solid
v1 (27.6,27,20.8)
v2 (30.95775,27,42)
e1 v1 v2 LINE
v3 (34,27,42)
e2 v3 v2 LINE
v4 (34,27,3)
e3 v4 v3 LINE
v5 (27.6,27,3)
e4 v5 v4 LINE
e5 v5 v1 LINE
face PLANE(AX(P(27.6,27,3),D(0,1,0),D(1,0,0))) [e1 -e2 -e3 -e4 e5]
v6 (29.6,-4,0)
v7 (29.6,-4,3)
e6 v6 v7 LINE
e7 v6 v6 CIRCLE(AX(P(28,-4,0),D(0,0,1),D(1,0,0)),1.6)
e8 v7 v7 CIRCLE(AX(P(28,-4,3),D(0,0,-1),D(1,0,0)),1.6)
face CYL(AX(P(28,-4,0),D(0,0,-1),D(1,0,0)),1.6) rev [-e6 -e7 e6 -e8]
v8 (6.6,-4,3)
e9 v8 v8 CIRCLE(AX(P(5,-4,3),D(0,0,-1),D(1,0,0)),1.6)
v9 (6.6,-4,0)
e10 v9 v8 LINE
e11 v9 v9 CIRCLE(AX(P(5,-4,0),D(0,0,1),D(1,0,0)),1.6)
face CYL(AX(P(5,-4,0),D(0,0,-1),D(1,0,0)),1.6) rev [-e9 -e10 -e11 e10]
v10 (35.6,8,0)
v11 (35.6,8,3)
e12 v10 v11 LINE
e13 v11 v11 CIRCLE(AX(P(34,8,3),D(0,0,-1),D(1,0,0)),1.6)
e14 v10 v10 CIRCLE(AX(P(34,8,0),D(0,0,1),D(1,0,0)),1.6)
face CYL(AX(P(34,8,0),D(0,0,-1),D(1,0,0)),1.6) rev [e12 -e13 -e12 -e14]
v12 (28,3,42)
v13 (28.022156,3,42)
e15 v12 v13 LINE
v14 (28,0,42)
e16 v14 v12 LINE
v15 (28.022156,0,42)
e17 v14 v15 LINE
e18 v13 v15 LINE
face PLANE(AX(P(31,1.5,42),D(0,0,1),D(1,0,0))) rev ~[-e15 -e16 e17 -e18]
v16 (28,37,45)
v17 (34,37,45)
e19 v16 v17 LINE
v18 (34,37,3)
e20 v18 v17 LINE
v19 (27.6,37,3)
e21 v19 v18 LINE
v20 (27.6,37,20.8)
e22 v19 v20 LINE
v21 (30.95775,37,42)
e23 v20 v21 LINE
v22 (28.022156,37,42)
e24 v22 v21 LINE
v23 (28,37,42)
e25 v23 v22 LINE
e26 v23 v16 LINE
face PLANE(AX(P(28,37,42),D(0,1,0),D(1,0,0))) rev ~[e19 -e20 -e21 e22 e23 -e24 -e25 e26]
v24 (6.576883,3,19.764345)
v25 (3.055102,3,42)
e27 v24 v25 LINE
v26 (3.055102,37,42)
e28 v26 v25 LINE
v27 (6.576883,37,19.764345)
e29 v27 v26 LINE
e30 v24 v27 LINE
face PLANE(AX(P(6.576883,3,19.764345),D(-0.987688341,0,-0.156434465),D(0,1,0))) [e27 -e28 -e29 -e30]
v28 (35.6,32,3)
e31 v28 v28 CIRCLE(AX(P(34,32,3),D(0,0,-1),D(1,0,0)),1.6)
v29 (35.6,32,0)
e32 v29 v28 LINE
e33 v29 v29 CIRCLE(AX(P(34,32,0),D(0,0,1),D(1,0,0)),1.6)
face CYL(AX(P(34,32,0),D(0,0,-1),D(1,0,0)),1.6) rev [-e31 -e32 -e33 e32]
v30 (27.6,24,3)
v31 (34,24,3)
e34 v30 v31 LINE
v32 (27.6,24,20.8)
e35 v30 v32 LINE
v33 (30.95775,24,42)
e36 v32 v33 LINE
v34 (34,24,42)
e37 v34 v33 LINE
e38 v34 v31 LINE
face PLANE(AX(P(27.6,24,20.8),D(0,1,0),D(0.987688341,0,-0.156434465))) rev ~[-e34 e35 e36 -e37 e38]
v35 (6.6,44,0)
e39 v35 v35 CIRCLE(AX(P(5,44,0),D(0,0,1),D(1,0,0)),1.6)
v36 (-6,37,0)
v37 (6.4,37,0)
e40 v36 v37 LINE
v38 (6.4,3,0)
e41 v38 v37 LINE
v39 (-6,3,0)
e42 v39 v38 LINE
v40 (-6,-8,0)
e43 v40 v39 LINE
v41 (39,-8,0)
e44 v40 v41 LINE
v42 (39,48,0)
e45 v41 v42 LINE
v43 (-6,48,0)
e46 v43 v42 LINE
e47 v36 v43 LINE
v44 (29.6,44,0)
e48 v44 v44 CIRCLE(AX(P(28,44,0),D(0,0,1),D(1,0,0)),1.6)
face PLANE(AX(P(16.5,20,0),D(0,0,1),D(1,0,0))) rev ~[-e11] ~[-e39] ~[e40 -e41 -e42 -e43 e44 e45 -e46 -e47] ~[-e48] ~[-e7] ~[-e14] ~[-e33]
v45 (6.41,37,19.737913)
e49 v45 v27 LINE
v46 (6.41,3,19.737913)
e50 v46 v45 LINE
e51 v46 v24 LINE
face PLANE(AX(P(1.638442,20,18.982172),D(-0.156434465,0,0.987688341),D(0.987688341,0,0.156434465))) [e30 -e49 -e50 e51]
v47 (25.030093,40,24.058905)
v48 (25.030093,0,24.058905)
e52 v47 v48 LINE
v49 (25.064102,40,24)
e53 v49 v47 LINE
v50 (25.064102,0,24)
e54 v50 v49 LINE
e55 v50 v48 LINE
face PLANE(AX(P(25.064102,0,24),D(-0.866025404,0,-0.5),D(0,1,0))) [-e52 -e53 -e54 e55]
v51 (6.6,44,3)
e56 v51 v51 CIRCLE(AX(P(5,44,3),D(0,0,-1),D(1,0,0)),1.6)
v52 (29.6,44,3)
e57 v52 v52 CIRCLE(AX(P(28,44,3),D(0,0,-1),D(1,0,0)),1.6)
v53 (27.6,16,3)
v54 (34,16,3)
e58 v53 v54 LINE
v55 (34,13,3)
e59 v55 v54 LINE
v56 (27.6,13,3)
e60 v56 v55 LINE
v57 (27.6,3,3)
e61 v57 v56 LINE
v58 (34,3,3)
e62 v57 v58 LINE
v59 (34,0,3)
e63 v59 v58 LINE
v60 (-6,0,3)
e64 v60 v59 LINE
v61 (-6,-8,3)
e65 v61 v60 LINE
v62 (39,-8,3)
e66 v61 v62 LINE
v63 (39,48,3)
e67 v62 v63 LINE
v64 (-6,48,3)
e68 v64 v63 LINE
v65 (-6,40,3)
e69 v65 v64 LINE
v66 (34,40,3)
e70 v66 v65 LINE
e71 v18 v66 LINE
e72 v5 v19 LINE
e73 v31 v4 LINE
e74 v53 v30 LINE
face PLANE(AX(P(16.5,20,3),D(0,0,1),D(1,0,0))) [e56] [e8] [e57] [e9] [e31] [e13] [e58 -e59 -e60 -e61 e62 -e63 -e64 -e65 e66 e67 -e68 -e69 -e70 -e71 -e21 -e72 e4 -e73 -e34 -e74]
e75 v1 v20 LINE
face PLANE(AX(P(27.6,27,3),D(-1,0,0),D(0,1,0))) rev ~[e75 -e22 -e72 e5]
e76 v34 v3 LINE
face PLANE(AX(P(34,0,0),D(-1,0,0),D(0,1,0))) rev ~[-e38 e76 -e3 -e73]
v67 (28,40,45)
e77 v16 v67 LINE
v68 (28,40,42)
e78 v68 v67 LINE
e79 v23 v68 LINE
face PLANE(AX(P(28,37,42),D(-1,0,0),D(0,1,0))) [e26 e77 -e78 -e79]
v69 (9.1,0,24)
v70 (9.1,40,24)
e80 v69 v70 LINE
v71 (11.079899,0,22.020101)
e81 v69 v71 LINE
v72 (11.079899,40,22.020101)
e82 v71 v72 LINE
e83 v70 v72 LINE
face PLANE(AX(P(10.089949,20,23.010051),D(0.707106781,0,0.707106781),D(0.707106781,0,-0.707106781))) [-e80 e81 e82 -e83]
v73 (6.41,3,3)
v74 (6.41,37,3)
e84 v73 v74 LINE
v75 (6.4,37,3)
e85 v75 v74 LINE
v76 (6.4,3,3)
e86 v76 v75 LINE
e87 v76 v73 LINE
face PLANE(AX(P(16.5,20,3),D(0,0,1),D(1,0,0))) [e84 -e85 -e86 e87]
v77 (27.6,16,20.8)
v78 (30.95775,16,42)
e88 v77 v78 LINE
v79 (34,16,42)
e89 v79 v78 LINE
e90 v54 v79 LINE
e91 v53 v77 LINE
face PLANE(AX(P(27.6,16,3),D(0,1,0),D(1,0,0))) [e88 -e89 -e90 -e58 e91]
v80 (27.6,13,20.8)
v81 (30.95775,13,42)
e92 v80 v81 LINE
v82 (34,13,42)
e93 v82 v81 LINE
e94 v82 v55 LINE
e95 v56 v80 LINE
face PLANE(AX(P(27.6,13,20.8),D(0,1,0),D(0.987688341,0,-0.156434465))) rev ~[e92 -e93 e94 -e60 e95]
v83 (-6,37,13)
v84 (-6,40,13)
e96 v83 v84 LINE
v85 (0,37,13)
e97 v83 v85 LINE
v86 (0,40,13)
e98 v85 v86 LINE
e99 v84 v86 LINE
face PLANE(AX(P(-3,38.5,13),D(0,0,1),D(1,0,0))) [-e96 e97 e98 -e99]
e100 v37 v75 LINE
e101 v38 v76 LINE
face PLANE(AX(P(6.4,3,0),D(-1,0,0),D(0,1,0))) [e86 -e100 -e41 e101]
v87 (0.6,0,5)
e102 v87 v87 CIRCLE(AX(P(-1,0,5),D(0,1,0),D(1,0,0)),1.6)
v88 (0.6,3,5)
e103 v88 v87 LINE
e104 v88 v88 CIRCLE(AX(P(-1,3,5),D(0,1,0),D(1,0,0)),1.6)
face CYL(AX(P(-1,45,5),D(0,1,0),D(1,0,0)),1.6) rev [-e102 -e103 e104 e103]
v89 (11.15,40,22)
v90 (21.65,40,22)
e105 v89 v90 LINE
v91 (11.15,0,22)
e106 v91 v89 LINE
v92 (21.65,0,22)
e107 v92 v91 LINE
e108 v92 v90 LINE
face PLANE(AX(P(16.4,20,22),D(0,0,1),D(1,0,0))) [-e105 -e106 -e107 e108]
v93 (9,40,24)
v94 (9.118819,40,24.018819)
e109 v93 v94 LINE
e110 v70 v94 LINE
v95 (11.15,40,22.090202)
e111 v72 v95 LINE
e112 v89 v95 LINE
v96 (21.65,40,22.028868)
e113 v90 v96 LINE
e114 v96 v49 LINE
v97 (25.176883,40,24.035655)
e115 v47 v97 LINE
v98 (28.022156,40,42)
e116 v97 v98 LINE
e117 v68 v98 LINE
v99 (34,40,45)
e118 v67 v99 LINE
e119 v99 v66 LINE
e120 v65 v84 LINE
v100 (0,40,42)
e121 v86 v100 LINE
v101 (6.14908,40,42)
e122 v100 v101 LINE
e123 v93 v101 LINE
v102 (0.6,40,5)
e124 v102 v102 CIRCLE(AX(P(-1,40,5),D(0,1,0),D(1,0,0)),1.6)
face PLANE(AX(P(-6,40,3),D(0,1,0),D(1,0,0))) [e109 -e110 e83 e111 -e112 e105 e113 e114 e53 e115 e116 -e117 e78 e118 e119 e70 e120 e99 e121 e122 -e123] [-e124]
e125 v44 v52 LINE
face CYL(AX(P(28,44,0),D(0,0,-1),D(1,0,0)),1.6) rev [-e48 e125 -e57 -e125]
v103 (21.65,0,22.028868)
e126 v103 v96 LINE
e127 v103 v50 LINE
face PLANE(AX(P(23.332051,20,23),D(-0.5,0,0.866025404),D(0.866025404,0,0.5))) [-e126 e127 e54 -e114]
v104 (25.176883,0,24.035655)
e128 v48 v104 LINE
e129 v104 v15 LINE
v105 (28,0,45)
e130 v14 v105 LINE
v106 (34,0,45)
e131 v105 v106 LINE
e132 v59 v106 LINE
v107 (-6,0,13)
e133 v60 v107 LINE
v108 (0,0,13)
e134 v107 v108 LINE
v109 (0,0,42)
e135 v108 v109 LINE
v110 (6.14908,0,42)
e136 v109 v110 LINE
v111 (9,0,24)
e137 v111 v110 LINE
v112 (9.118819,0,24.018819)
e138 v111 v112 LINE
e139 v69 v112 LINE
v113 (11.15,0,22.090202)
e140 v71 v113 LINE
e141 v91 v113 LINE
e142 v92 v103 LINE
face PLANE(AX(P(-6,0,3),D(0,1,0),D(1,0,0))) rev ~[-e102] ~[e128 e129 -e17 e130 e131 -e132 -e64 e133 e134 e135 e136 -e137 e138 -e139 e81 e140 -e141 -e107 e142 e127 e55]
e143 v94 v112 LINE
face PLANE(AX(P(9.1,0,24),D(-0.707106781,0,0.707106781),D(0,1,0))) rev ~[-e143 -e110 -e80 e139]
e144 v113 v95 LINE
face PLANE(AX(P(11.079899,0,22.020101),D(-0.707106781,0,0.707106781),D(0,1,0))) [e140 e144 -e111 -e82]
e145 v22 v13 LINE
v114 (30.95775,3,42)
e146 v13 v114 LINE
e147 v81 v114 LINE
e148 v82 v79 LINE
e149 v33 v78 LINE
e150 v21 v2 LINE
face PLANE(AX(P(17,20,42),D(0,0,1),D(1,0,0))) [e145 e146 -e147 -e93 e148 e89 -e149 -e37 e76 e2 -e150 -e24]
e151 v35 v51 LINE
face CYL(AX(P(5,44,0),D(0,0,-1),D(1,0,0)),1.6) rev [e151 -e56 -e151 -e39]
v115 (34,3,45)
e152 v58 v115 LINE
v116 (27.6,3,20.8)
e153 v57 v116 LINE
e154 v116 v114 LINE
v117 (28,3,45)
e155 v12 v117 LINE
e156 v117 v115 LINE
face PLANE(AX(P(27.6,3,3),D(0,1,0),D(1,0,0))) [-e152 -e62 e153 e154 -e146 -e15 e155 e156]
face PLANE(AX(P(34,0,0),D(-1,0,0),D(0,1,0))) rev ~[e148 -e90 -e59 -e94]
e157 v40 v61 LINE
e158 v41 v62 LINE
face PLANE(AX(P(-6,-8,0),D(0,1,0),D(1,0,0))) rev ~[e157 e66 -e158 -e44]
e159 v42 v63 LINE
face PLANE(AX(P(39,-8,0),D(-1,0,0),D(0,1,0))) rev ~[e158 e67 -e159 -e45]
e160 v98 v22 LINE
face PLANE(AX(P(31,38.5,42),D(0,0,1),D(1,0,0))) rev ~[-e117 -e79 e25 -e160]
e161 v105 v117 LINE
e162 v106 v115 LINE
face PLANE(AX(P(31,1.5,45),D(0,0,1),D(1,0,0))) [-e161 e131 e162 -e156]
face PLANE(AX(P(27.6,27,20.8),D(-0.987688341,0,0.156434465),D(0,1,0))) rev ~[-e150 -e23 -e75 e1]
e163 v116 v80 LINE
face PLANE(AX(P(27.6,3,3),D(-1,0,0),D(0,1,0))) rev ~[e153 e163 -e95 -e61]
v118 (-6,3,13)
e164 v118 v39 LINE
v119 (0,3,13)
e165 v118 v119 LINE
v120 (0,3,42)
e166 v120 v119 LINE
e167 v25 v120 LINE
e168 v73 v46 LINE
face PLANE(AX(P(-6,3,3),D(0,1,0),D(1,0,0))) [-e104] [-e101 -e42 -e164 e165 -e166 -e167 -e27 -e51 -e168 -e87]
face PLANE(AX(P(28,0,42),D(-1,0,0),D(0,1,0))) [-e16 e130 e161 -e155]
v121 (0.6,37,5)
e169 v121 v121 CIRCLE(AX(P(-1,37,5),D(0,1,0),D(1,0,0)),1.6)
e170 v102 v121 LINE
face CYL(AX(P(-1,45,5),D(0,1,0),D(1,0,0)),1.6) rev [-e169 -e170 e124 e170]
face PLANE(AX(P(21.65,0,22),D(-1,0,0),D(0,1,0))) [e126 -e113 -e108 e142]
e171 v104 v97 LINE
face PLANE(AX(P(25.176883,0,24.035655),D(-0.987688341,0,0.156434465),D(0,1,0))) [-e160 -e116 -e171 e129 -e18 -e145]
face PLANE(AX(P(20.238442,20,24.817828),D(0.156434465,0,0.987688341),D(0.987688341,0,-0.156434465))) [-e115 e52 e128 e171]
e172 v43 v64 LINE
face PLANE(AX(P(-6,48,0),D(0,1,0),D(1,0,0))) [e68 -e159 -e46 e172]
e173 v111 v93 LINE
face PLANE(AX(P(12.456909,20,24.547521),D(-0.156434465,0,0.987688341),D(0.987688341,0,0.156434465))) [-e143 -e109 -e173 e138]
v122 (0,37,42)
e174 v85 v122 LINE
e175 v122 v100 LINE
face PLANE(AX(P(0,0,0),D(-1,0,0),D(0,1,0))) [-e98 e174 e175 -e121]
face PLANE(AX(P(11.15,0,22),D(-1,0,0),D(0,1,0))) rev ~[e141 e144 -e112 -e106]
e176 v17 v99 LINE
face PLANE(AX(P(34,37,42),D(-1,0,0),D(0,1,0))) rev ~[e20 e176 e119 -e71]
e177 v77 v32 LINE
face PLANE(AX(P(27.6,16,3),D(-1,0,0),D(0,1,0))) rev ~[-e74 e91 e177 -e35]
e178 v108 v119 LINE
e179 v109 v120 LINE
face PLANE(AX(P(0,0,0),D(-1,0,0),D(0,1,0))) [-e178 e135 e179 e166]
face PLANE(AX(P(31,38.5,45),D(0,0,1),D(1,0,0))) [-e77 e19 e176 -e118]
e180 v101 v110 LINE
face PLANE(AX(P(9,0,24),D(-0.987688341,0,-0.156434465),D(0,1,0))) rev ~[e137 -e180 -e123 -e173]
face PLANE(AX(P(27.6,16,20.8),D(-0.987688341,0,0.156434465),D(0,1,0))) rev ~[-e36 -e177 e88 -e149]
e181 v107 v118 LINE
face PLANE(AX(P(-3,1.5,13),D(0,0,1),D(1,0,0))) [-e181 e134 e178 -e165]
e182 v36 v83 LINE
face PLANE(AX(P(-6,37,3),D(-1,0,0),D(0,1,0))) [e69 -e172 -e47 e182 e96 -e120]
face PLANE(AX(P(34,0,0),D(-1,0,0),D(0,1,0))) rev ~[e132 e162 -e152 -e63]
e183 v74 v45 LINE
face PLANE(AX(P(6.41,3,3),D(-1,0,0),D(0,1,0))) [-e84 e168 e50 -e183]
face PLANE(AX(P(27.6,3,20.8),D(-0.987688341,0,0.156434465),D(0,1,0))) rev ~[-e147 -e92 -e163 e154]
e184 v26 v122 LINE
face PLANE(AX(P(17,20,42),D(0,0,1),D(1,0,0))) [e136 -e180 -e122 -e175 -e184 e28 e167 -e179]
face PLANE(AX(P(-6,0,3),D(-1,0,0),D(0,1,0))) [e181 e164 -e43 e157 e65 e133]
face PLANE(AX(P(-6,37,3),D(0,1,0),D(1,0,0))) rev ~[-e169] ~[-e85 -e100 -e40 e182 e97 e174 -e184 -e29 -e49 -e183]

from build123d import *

# Parameters (mm, degrees)
CYLINDER007_R          = 1.6
CYLINDER007_DEPTH      = 10
CYLINDER006_R          = 1.6
CYLINDER006_DEPTH      = 10
CYLINDER005_R          = 1.6
CYLINDER005_DEPTH      = 10
CYLINDER004_R          = 1.6
CYLINDER004_DEPTH      = 10
CYLINDER_R             = 1.6
CYLINDER_DEPTH         = 50
CYLINDER_ROLL_ANGLE    = 90
BOX024_W               = 6
BOX024_H               = 3
BOX024_DEPTH           = 10
BOX023_W               = 6
BOX023_H               = 3
BOX023_DEPTH           = 10
BOX021_W               = 6
BOX021_H               = 3
BOX021_DEPTH           = 3
BOX022_W               = 13
BOX022_H               = 34
BOX022_DEPTH           = 3
CYLINDER003_R          = 1.6
CYLINDER003_DEPTH      = 10
CYLINDER002_R          = 1.6
CYLINDER002_DEPTH      = 10
BOX019_W               = 45
BOX019_H               = 56
BOX019_DEPTH           = 3
BOX018_W               = 10
BOX018_H               = 10
BOX018_DEPTH           = 23
BOX018_PITCH_ANGLE     = 9
BOX013_W               = 8.6
BOX013_H               = 10
BOX013_DEPTH           = 17.8
BOX017_W               = 10
BOX017_H               = 8
BOX017_DEPTH           = 23
BOX017_PITCH_ANGLE     = 9
BOX012_W               = 8.6
BOX012_H               = 8
BOX012_DEPTH           = 17.8
BOX016_W               = 10
BOX016_H               = 10
BOX016_DEPTH           = 23
BOX016_PITCH_ANGLE     = 9
BOX011_W               = 8.6
BOX011_H               = 10
BOX011_DEPTH           = 17.8
BOX008_W               = 10
BOX008_H               = 34
BOX008_DEPTH           = 23
BOX008_PITCH_ANGLE     = -9
BOX007_W               = 8.6
BOX007_H               = 34
BOX007_DEPTH           = 17.8
BOX006_W               = 4
BOX006_H               = 40
BOX006_DEPTH           = 3
BOX006_PLACEMENT_ANGLE = 30
BOX004_W               = 10
BOX004_H               = 40
BOX004_DEPTH           = 19
BOX004_PITCH_ANGLE     = 9
BOX005_W               = 2.8
BOX005_H               = 40
BOX005_DEPTH           = 2.8
BOX005_PITCH_ANGLE     = 45
BOX003_W               = 7
BOX003_H               = 40
BOX003_DEPTH           = 19
BOX003_PITCH_ANGLE     = -9
BOX001_W               = 10.5
BOX001_H               = 40
BOX001_DEPTH           = 20
BOX_W                  = 34
BOX_H                  = 40
BOX_DEPTH              = 42
BOX020_W               = 6
BOX020_H               = 3
BOX020_DEPTH           = 3


with BuildPart() as cylinder007:
    # Cylinder007 → Cylinder007 (new body)
    with BuildSketch(Plane(origin=(28, 44, 0), x_dir=(1, 0, 0), z_dir=(0, 0, 1))):
        Circle(CYLINDER007_R)
    extrude(amount=CYLINDER007_DEPTH)


with BuildPart() as cylinder006:
    # Cylinder006 → Cylinder006 (new body)
    with BuildSketch(Plane(origin=(5, 44, 0), x_dir=(1, 0, 0), z_dir=(0, 0, 1))):
        Circle(CYLINDER006_R)
    extrude(amount=CYLINDER006_DEPTH)


with BuildPart() as cylinder005:
    # Cylinder005 → Cylinder005 (new body)
    with BuildSketch(Plane(origin=(28, -4, 0), x_dir=(1, 0, 0), z_dir=(0, 0, 1))):
        Circle(CYLINDER005_R)
    extrude(amount=CYLINDER005_DEPTH)


with BuildPart() as cylinder004:
    # Cylinder004 → Cylinder004 (new body)
    with BuildSketch(Plane(origin=(5, -4, 0), x_dir=(1, 0, 0), z_dir=(0, 0, 1))):
        Circle(CYLINDER004_R)
    extrude(amount=CYLINDER004_DEPTH)


with BuildPart() as cylinder:
    # Cylinder → Cylinder (new body)
    with BuildSketch(Plane.XY):
        Circle(CYLINDER_R)
    extrude(amount=CYLINDER_DEPTH)


with BuildPart() as cylinder_1:
    # Cylinder roll: moved
    add(cylinder.part.rotate(Axis((0, 0, 0), (1, 0, 0)), CYLINDER_ROLL_ANGLE))


with BuildPart() as cylinder_2:
    # Cylinder placement: moved
    add(cylinder_1.part.moved(Location((-1, 45, 5))))


with BuildPart() as cube024:
    # Box024 → Box024 (new body)
    with BuildSketch(Plane(origin=(-6, 37, 3), x_dir=(1, 0, 0), z_dir=(0, 0, 1))):
        with Locations((3, 1.5)):
            Rectangle(BOX024_W, BOX024_H)
    extrude(amount=BOX024_DEPTH)


with BuildPart() as cube023:
    # Box023 → Box023 (new body)
    with BuildSketch(Plane(origin=(-6, 0, 3), x_dir=(1, 0, 0), z_dir=(0, 0, 1))):
        with Locations((3, 1.5)):
            Rectangle(BOX023_W, BOX023_H)
    extrude(amount=BOX023_DEPTH)


with BuildPart() as cube021:
    # Box021 → Box021 (new body)
    with BuildSketch(Plane(origin=(28, 37, 42), x_dir=(1, 0, 0), z_dir=(0, 0, 1))):
        with Locations((3, 1.5)):
            Rectangle(BOX021_W, BOX021_H)
    extrude(amount=BOX021_DEPTH)


with BuildPart() as cube022:
    # Box022 → Box022 (new body)
    with BuildSketch(Plane(origin=(-6.6, 3, 0), x_dir=(1, 0, 0), z_dir=(0, 0, 1))):
        with Locations((6.5, 17)):
            Rectangle(BOX022_W, BOX022_H)
    extrude(amount=BOX022_DEPTH)


with BuildPart() as cylinder003:
    # Cylinder003 → Cylinder003 (new body)
    with BuildSketch(Plane(origin=(34, 32, 0), x_dir=(1, 0, 0), z_dir=(0, 0, 1))):
        Circle(CYLINDER003_R)
    extrude(amount=CYLINDER003_DEPTH)


with BuildPart() as cylinder002:
    # Cylinder002 → Cylinder002 (new body)
    with BuildSketch(Plane(origin=(34, 8, 0), x_dir=(1, 0, 0), z_dir=(0, 0, 1))):
        Circle(CYLINDER002_R)
    extrude(amount=CYLINDER002_DEPTH)


with BuildPart() as cube019:
    # Box019 → Box019 (new body)
    with BuildSketch(Plane(origin=(-6, -8, 0), x_dir=(1, 0, 0), z_dir=(0, 0, 1))):
        with Locations((22.5, 28)):
            Rectangle(BOX019_W, BOX019_H)
    extrude(amount=BOX019_DEPTH)


with BuildPart() as cube018:
    # Box018 → Box018 (new body)
    with BuildSketch(Plane.XY):
        with Locations((5, 5)):
            Rectangle(BOX018_W, BOX018_H)
    extrude(amount=BOX018_DEPTH)


with BuildPart() as cube018_1:
    # Box018 pitch: moved
    add(cube018.part.rotate(Axis((0, 0, 0), (0, 1, 0)), BOX018_PITCH_ANGLE))


with BuildPart() as cube018_2:
    # Box018 placement: moved
    add(cube018_1.part.moved(Location((27.6, 3, 20.8))))


with BuildPart() as cube013:
    # Box013 → Box013 (new body)
    with BuildSketch(Plane(origin=(27.6, 3, 3), x_dir=(1, 0, 0), z_dir=(0, 0, 1))):
        with Locations((4.3, 5)):
            Rectangle(BOX013_W, BOX013_H)
    extrude(amount=BOX013_DEPTH)


with BuildPart() as cube017:
    # Box017 → Box017 (new body)
    with BuildSketch(Plane.XY):
        with Locations((5, 4)):
            Rectangle(BOX017_W, BOX017_H)
    extrude(amount=BOX017_DEPTH)


with BuildPart() as cube017_1:
    # Box017 pitch: moved
    add(cube017.part.rotate(Axis((0, 0, 0), (0, 1, 0)), BOX017_PITCH_ANGLE))


with BuildPart() as cube017_2:
    # Box017 placement: moved
    add(cube017_1.part.moved(Location((27.6, 16, 20.8))))


with BuildPart() as cube012:
    # Box012 → Box012 (new body)
    with BuildSketch(Plane(origin=(27.6, 16, 3), x_dir=(1, 0, 0), z_dir=(0, 0, 1))):
        with Locations((4.3, 4)):
            Rectangle(BOX012_W, BOX012_H)
    extrude(amount=BOX012_DEPTH)


with BuildPart() as cube016:
    # Box016 → Box016 (new body)
    with BuildSketch(Plane.XY):
        with Locations((5, 5)):
            Rectangle(BOX016_W, BOX016_H)
    extrude(amount=BOX016_DEPTH)


with BuildPart() as cube016_1:
    # Box016 pitch: moved
    add(cube016.part.rotate(Axis((0, 0, 0), (0, 1, 0)), BOX016_PITCH_ANGLE))


with BuildPart() as cube016_2:
    # Box016 placement: moved
    add(cube016_1.part.moved(Location((27.6, 27, 20.8))))


with BuildPart() as cube011:
    # Box011 → Box011 (new body)
    with BuildSketch(Plane(origin=(27.6, 27, 3), x_dir=(1, 0, 0), z_dir=(0, 0, 1))):
        with Locations((4.3, 5)):
            Rectangle(BOX011_W, BOX011_H)
    extrude(amount=BOX011_DEPTH)


with BuildPart() as cube008:
    # Box008 → Box008 (new body)
    with BuildSketch(Plane.XY):
        with Locations((5, 17)):
            Rectangle(BOX008_W, BOX008_H)
    extrude(amount=BOX008_DEPTH)


with BuildPart() as cube008_1:
    # Box008 pitch: moved
    add(cube008.part.rotate(Axis((0, 0, 0), (0, 1, 0)), BOX008_PITCH_ANGLE))


with BuildPart() as cube008_2:
    # Box008 placement: moved
    add(cube008_1.part.moved(Location((-3.3, 3, 18.2))))


with BuildPart() as cube007:
    # Box007 → Box007 (new body)
    with BuildSketch(Plane(origin=(-2.19, 3, 3), x_dir=(1, 0, 0), z_dir=(0, 0, 1))):
        with Locations((4.3, 17)):
            Rectangle(BOX007_W, BOX007_H)
    extrude(amount=BOX007_DEPTH)


with BuildPart() as cube006:
    # Box006 → Box006 (new body)
    with BuildSketch(Plane.XY):
        with Locations((2, 20)):
            Rectangle(BOX006_W, BOX006_H)
    extrude(amount=BOX006_DEPTH)


with BuildPart() as cube006_1:
    # Box006 placement: moved
    add(cube006.part.moved(Location((21.6, 0, 22))).rotate(Axis((21.6, 0, 22), (0, -1, 0)), BOX006_PLACEMENT_ANGLE))


with BuildPart() as cube004:
    # Box004 → Box004 (new body)
    with BuildSketch(Plane.XY):
        with Locations((5, 20)):
            Rectangle(BOX004_W, BOX004_H)
    extrude(amount=BOX004_DEPTH)


with BuildPart() as cube004_1:
    # Box004 pitch: moved
    add(cube004.part.rotate(Axis((0, 0, 0), (0, 1, 0)), BOX004_PITCH_ANGLE))


with BuildPart() as cube004_2:
    # Box004 placement: moved
    add(cube004_1.part.moved(Location((15.3, 0, 25.6))))


with BuildPart() as cube005:
    # Box005 → Box005 (new body)
    with BuildSketch(Plane.XY):
        with Locations((1.4, 20)):
            Rectangle(BOX005_W, BOX005_H)
    extrude(amount=BOX005_DEPTH)


with BuildPart() as cube005_1:
    # Box005 pitch: moved
    add(cube005.part.rotate(Axis((0, 0, 0), (0, 1, 0)), BOX005_PITCH_ANGLE))


with BuildPart() as cube005_2:
    # Box005 placement: moved
    add(cube005_1.part.moved(Location((9.1, 0, 24))))


with BuildPart() as cube003:
    # Box003 → Box003 (new body)
    with BuildSketch(Plane.XY):
        with Locations((3.5, 20)):
            Rectangle(BOX003_W, BOX003_H)
    extrude(amount=BOX003_DEPTH)


with BuildPart() as cube003_1:
    # Box003 pitch: moved
    add(cube003.part.rotate(Axis((0, 0, 0), (0, 1, 0)), BOX003_PITCH_ANGLE))


with BuildPart() as cube003_2:
    # Box003 placement: moved
    add(cube003_1.part.moved(Location((9, 0, 24))))


with BuildPart() as cube001:
    # Box001 → Box001 (new body)
    with BuildSketch(Plane(origin=(11.15, 0, 22), x_dir=(1, 0, 0), z_dir=(0, 0, 1))):
        with Locations((5.25, 20)):
            Rectangle(BOX001_W, BOX001_H)
    extrude(amount=BOX001_DEPTH)


with BuildPart() as cut021:
    # Box → Box (new body)
    with BuildSketch(Plane.XY):
        with Locations((17, 20)):
            Rectangle(BOX_W, BOX_H)
    extrude(amount=BOX_DEPTH)

    # Cut: cut Cube001
    add(cube001.part, mode=Mode.SUBTRACT)

    # Cut001: cut Cube003
    add(cube003_2.part, mode=Mode.SUBTRACT)

    # Cut002: cut Cube005
    add(cube005_2.part, mode=Mode.SUBTRACT)

    # Cut003: cut Cube004
    add(cube004_2.part, mode=Mode.SUBTRACT)

    # Cut004: cut Cube006
    add(cube006_1.part, mode=Mode.SUBTRACT)

    # Cut005: cut Cube007
    add(cube007.part, mode=Mode.SUBTRACT)

    # Cut006: cut Cube008
    add(cube008_2.part, mode=Mode.SUBTRACT)

    # Cut011: cut Cube011
    add(cube011.part, mode=Mode.SUBTRACT)

    # Cut012: cut Cube016
    add(cube016_2.part, mode=Mode.SUBTRACT)

    # Cut013: cut Cube012
    add(cube012.part, mode=Mode.SUBTRACT)

    # Cut014: cut Cube017
    add(cube017_2.part, mode=Mode.SUBTRACT)

    # Cut015: cut Cube013
    add(cube013.part, mode=Mode.SUBTRACT)

    # Cut016: cut Cube018
    add(cube018_2.part, mode=Mode.SUBTRACT)

    # Fusion: union Cube019
    add(cube019.part)

    # Cut019: cut Cylinder002
    add(cylinder002.part, mode=Mode.SUBTRACT)

    # Cut020: cut Cylinder003
    add(cylinder003.part, mode=Mode.SUBTRACT)

    # Cut021: cut Cube022
    add(cube022.part, mode=Mode.SUBTRACT)


with BuildPart() as cut026:
    # Box020 → Box020 (new body)
    with BuildSketch(Plane(origin=(28, 0, 42), x_dir=(1, 0, 0), z_dir=(0, 0, 1))):
        with Locations((3, 1.5)):
            Rectangle(BOX020_W, BOX020_H)
    extrude(amount=BOX020_DEPTH)

    # Fusion001: union Cut021
    add(cut021.part)

    # Fusion002: union Cube021
    add(cube021.part)

    # Fusion003: union Cube023
    add(cube023.part)

    # Fusion004: union Cube024
    add(cube024.part)

    # Cut022: cut Cylinder
    add(cylinder_2.part, mode=Mode.SUBTRACT)

    # Cut023: cut Cylinder004
    add(cylinder004.part, mode=Mode.SUBTRACT)

    # Cut024: cut Cylinder005
    add(cylinder005.part, mode=Mode.SUBTRACT)

    # Cut025: cut Cylinder006
    add(cylinder006.part, mode=Mode.SUBTRACT)

    # Cut026: cut Cylinder007
    add(cylinder007.part, mode=Mode.SUBTRACT)


solid = cut026.part
